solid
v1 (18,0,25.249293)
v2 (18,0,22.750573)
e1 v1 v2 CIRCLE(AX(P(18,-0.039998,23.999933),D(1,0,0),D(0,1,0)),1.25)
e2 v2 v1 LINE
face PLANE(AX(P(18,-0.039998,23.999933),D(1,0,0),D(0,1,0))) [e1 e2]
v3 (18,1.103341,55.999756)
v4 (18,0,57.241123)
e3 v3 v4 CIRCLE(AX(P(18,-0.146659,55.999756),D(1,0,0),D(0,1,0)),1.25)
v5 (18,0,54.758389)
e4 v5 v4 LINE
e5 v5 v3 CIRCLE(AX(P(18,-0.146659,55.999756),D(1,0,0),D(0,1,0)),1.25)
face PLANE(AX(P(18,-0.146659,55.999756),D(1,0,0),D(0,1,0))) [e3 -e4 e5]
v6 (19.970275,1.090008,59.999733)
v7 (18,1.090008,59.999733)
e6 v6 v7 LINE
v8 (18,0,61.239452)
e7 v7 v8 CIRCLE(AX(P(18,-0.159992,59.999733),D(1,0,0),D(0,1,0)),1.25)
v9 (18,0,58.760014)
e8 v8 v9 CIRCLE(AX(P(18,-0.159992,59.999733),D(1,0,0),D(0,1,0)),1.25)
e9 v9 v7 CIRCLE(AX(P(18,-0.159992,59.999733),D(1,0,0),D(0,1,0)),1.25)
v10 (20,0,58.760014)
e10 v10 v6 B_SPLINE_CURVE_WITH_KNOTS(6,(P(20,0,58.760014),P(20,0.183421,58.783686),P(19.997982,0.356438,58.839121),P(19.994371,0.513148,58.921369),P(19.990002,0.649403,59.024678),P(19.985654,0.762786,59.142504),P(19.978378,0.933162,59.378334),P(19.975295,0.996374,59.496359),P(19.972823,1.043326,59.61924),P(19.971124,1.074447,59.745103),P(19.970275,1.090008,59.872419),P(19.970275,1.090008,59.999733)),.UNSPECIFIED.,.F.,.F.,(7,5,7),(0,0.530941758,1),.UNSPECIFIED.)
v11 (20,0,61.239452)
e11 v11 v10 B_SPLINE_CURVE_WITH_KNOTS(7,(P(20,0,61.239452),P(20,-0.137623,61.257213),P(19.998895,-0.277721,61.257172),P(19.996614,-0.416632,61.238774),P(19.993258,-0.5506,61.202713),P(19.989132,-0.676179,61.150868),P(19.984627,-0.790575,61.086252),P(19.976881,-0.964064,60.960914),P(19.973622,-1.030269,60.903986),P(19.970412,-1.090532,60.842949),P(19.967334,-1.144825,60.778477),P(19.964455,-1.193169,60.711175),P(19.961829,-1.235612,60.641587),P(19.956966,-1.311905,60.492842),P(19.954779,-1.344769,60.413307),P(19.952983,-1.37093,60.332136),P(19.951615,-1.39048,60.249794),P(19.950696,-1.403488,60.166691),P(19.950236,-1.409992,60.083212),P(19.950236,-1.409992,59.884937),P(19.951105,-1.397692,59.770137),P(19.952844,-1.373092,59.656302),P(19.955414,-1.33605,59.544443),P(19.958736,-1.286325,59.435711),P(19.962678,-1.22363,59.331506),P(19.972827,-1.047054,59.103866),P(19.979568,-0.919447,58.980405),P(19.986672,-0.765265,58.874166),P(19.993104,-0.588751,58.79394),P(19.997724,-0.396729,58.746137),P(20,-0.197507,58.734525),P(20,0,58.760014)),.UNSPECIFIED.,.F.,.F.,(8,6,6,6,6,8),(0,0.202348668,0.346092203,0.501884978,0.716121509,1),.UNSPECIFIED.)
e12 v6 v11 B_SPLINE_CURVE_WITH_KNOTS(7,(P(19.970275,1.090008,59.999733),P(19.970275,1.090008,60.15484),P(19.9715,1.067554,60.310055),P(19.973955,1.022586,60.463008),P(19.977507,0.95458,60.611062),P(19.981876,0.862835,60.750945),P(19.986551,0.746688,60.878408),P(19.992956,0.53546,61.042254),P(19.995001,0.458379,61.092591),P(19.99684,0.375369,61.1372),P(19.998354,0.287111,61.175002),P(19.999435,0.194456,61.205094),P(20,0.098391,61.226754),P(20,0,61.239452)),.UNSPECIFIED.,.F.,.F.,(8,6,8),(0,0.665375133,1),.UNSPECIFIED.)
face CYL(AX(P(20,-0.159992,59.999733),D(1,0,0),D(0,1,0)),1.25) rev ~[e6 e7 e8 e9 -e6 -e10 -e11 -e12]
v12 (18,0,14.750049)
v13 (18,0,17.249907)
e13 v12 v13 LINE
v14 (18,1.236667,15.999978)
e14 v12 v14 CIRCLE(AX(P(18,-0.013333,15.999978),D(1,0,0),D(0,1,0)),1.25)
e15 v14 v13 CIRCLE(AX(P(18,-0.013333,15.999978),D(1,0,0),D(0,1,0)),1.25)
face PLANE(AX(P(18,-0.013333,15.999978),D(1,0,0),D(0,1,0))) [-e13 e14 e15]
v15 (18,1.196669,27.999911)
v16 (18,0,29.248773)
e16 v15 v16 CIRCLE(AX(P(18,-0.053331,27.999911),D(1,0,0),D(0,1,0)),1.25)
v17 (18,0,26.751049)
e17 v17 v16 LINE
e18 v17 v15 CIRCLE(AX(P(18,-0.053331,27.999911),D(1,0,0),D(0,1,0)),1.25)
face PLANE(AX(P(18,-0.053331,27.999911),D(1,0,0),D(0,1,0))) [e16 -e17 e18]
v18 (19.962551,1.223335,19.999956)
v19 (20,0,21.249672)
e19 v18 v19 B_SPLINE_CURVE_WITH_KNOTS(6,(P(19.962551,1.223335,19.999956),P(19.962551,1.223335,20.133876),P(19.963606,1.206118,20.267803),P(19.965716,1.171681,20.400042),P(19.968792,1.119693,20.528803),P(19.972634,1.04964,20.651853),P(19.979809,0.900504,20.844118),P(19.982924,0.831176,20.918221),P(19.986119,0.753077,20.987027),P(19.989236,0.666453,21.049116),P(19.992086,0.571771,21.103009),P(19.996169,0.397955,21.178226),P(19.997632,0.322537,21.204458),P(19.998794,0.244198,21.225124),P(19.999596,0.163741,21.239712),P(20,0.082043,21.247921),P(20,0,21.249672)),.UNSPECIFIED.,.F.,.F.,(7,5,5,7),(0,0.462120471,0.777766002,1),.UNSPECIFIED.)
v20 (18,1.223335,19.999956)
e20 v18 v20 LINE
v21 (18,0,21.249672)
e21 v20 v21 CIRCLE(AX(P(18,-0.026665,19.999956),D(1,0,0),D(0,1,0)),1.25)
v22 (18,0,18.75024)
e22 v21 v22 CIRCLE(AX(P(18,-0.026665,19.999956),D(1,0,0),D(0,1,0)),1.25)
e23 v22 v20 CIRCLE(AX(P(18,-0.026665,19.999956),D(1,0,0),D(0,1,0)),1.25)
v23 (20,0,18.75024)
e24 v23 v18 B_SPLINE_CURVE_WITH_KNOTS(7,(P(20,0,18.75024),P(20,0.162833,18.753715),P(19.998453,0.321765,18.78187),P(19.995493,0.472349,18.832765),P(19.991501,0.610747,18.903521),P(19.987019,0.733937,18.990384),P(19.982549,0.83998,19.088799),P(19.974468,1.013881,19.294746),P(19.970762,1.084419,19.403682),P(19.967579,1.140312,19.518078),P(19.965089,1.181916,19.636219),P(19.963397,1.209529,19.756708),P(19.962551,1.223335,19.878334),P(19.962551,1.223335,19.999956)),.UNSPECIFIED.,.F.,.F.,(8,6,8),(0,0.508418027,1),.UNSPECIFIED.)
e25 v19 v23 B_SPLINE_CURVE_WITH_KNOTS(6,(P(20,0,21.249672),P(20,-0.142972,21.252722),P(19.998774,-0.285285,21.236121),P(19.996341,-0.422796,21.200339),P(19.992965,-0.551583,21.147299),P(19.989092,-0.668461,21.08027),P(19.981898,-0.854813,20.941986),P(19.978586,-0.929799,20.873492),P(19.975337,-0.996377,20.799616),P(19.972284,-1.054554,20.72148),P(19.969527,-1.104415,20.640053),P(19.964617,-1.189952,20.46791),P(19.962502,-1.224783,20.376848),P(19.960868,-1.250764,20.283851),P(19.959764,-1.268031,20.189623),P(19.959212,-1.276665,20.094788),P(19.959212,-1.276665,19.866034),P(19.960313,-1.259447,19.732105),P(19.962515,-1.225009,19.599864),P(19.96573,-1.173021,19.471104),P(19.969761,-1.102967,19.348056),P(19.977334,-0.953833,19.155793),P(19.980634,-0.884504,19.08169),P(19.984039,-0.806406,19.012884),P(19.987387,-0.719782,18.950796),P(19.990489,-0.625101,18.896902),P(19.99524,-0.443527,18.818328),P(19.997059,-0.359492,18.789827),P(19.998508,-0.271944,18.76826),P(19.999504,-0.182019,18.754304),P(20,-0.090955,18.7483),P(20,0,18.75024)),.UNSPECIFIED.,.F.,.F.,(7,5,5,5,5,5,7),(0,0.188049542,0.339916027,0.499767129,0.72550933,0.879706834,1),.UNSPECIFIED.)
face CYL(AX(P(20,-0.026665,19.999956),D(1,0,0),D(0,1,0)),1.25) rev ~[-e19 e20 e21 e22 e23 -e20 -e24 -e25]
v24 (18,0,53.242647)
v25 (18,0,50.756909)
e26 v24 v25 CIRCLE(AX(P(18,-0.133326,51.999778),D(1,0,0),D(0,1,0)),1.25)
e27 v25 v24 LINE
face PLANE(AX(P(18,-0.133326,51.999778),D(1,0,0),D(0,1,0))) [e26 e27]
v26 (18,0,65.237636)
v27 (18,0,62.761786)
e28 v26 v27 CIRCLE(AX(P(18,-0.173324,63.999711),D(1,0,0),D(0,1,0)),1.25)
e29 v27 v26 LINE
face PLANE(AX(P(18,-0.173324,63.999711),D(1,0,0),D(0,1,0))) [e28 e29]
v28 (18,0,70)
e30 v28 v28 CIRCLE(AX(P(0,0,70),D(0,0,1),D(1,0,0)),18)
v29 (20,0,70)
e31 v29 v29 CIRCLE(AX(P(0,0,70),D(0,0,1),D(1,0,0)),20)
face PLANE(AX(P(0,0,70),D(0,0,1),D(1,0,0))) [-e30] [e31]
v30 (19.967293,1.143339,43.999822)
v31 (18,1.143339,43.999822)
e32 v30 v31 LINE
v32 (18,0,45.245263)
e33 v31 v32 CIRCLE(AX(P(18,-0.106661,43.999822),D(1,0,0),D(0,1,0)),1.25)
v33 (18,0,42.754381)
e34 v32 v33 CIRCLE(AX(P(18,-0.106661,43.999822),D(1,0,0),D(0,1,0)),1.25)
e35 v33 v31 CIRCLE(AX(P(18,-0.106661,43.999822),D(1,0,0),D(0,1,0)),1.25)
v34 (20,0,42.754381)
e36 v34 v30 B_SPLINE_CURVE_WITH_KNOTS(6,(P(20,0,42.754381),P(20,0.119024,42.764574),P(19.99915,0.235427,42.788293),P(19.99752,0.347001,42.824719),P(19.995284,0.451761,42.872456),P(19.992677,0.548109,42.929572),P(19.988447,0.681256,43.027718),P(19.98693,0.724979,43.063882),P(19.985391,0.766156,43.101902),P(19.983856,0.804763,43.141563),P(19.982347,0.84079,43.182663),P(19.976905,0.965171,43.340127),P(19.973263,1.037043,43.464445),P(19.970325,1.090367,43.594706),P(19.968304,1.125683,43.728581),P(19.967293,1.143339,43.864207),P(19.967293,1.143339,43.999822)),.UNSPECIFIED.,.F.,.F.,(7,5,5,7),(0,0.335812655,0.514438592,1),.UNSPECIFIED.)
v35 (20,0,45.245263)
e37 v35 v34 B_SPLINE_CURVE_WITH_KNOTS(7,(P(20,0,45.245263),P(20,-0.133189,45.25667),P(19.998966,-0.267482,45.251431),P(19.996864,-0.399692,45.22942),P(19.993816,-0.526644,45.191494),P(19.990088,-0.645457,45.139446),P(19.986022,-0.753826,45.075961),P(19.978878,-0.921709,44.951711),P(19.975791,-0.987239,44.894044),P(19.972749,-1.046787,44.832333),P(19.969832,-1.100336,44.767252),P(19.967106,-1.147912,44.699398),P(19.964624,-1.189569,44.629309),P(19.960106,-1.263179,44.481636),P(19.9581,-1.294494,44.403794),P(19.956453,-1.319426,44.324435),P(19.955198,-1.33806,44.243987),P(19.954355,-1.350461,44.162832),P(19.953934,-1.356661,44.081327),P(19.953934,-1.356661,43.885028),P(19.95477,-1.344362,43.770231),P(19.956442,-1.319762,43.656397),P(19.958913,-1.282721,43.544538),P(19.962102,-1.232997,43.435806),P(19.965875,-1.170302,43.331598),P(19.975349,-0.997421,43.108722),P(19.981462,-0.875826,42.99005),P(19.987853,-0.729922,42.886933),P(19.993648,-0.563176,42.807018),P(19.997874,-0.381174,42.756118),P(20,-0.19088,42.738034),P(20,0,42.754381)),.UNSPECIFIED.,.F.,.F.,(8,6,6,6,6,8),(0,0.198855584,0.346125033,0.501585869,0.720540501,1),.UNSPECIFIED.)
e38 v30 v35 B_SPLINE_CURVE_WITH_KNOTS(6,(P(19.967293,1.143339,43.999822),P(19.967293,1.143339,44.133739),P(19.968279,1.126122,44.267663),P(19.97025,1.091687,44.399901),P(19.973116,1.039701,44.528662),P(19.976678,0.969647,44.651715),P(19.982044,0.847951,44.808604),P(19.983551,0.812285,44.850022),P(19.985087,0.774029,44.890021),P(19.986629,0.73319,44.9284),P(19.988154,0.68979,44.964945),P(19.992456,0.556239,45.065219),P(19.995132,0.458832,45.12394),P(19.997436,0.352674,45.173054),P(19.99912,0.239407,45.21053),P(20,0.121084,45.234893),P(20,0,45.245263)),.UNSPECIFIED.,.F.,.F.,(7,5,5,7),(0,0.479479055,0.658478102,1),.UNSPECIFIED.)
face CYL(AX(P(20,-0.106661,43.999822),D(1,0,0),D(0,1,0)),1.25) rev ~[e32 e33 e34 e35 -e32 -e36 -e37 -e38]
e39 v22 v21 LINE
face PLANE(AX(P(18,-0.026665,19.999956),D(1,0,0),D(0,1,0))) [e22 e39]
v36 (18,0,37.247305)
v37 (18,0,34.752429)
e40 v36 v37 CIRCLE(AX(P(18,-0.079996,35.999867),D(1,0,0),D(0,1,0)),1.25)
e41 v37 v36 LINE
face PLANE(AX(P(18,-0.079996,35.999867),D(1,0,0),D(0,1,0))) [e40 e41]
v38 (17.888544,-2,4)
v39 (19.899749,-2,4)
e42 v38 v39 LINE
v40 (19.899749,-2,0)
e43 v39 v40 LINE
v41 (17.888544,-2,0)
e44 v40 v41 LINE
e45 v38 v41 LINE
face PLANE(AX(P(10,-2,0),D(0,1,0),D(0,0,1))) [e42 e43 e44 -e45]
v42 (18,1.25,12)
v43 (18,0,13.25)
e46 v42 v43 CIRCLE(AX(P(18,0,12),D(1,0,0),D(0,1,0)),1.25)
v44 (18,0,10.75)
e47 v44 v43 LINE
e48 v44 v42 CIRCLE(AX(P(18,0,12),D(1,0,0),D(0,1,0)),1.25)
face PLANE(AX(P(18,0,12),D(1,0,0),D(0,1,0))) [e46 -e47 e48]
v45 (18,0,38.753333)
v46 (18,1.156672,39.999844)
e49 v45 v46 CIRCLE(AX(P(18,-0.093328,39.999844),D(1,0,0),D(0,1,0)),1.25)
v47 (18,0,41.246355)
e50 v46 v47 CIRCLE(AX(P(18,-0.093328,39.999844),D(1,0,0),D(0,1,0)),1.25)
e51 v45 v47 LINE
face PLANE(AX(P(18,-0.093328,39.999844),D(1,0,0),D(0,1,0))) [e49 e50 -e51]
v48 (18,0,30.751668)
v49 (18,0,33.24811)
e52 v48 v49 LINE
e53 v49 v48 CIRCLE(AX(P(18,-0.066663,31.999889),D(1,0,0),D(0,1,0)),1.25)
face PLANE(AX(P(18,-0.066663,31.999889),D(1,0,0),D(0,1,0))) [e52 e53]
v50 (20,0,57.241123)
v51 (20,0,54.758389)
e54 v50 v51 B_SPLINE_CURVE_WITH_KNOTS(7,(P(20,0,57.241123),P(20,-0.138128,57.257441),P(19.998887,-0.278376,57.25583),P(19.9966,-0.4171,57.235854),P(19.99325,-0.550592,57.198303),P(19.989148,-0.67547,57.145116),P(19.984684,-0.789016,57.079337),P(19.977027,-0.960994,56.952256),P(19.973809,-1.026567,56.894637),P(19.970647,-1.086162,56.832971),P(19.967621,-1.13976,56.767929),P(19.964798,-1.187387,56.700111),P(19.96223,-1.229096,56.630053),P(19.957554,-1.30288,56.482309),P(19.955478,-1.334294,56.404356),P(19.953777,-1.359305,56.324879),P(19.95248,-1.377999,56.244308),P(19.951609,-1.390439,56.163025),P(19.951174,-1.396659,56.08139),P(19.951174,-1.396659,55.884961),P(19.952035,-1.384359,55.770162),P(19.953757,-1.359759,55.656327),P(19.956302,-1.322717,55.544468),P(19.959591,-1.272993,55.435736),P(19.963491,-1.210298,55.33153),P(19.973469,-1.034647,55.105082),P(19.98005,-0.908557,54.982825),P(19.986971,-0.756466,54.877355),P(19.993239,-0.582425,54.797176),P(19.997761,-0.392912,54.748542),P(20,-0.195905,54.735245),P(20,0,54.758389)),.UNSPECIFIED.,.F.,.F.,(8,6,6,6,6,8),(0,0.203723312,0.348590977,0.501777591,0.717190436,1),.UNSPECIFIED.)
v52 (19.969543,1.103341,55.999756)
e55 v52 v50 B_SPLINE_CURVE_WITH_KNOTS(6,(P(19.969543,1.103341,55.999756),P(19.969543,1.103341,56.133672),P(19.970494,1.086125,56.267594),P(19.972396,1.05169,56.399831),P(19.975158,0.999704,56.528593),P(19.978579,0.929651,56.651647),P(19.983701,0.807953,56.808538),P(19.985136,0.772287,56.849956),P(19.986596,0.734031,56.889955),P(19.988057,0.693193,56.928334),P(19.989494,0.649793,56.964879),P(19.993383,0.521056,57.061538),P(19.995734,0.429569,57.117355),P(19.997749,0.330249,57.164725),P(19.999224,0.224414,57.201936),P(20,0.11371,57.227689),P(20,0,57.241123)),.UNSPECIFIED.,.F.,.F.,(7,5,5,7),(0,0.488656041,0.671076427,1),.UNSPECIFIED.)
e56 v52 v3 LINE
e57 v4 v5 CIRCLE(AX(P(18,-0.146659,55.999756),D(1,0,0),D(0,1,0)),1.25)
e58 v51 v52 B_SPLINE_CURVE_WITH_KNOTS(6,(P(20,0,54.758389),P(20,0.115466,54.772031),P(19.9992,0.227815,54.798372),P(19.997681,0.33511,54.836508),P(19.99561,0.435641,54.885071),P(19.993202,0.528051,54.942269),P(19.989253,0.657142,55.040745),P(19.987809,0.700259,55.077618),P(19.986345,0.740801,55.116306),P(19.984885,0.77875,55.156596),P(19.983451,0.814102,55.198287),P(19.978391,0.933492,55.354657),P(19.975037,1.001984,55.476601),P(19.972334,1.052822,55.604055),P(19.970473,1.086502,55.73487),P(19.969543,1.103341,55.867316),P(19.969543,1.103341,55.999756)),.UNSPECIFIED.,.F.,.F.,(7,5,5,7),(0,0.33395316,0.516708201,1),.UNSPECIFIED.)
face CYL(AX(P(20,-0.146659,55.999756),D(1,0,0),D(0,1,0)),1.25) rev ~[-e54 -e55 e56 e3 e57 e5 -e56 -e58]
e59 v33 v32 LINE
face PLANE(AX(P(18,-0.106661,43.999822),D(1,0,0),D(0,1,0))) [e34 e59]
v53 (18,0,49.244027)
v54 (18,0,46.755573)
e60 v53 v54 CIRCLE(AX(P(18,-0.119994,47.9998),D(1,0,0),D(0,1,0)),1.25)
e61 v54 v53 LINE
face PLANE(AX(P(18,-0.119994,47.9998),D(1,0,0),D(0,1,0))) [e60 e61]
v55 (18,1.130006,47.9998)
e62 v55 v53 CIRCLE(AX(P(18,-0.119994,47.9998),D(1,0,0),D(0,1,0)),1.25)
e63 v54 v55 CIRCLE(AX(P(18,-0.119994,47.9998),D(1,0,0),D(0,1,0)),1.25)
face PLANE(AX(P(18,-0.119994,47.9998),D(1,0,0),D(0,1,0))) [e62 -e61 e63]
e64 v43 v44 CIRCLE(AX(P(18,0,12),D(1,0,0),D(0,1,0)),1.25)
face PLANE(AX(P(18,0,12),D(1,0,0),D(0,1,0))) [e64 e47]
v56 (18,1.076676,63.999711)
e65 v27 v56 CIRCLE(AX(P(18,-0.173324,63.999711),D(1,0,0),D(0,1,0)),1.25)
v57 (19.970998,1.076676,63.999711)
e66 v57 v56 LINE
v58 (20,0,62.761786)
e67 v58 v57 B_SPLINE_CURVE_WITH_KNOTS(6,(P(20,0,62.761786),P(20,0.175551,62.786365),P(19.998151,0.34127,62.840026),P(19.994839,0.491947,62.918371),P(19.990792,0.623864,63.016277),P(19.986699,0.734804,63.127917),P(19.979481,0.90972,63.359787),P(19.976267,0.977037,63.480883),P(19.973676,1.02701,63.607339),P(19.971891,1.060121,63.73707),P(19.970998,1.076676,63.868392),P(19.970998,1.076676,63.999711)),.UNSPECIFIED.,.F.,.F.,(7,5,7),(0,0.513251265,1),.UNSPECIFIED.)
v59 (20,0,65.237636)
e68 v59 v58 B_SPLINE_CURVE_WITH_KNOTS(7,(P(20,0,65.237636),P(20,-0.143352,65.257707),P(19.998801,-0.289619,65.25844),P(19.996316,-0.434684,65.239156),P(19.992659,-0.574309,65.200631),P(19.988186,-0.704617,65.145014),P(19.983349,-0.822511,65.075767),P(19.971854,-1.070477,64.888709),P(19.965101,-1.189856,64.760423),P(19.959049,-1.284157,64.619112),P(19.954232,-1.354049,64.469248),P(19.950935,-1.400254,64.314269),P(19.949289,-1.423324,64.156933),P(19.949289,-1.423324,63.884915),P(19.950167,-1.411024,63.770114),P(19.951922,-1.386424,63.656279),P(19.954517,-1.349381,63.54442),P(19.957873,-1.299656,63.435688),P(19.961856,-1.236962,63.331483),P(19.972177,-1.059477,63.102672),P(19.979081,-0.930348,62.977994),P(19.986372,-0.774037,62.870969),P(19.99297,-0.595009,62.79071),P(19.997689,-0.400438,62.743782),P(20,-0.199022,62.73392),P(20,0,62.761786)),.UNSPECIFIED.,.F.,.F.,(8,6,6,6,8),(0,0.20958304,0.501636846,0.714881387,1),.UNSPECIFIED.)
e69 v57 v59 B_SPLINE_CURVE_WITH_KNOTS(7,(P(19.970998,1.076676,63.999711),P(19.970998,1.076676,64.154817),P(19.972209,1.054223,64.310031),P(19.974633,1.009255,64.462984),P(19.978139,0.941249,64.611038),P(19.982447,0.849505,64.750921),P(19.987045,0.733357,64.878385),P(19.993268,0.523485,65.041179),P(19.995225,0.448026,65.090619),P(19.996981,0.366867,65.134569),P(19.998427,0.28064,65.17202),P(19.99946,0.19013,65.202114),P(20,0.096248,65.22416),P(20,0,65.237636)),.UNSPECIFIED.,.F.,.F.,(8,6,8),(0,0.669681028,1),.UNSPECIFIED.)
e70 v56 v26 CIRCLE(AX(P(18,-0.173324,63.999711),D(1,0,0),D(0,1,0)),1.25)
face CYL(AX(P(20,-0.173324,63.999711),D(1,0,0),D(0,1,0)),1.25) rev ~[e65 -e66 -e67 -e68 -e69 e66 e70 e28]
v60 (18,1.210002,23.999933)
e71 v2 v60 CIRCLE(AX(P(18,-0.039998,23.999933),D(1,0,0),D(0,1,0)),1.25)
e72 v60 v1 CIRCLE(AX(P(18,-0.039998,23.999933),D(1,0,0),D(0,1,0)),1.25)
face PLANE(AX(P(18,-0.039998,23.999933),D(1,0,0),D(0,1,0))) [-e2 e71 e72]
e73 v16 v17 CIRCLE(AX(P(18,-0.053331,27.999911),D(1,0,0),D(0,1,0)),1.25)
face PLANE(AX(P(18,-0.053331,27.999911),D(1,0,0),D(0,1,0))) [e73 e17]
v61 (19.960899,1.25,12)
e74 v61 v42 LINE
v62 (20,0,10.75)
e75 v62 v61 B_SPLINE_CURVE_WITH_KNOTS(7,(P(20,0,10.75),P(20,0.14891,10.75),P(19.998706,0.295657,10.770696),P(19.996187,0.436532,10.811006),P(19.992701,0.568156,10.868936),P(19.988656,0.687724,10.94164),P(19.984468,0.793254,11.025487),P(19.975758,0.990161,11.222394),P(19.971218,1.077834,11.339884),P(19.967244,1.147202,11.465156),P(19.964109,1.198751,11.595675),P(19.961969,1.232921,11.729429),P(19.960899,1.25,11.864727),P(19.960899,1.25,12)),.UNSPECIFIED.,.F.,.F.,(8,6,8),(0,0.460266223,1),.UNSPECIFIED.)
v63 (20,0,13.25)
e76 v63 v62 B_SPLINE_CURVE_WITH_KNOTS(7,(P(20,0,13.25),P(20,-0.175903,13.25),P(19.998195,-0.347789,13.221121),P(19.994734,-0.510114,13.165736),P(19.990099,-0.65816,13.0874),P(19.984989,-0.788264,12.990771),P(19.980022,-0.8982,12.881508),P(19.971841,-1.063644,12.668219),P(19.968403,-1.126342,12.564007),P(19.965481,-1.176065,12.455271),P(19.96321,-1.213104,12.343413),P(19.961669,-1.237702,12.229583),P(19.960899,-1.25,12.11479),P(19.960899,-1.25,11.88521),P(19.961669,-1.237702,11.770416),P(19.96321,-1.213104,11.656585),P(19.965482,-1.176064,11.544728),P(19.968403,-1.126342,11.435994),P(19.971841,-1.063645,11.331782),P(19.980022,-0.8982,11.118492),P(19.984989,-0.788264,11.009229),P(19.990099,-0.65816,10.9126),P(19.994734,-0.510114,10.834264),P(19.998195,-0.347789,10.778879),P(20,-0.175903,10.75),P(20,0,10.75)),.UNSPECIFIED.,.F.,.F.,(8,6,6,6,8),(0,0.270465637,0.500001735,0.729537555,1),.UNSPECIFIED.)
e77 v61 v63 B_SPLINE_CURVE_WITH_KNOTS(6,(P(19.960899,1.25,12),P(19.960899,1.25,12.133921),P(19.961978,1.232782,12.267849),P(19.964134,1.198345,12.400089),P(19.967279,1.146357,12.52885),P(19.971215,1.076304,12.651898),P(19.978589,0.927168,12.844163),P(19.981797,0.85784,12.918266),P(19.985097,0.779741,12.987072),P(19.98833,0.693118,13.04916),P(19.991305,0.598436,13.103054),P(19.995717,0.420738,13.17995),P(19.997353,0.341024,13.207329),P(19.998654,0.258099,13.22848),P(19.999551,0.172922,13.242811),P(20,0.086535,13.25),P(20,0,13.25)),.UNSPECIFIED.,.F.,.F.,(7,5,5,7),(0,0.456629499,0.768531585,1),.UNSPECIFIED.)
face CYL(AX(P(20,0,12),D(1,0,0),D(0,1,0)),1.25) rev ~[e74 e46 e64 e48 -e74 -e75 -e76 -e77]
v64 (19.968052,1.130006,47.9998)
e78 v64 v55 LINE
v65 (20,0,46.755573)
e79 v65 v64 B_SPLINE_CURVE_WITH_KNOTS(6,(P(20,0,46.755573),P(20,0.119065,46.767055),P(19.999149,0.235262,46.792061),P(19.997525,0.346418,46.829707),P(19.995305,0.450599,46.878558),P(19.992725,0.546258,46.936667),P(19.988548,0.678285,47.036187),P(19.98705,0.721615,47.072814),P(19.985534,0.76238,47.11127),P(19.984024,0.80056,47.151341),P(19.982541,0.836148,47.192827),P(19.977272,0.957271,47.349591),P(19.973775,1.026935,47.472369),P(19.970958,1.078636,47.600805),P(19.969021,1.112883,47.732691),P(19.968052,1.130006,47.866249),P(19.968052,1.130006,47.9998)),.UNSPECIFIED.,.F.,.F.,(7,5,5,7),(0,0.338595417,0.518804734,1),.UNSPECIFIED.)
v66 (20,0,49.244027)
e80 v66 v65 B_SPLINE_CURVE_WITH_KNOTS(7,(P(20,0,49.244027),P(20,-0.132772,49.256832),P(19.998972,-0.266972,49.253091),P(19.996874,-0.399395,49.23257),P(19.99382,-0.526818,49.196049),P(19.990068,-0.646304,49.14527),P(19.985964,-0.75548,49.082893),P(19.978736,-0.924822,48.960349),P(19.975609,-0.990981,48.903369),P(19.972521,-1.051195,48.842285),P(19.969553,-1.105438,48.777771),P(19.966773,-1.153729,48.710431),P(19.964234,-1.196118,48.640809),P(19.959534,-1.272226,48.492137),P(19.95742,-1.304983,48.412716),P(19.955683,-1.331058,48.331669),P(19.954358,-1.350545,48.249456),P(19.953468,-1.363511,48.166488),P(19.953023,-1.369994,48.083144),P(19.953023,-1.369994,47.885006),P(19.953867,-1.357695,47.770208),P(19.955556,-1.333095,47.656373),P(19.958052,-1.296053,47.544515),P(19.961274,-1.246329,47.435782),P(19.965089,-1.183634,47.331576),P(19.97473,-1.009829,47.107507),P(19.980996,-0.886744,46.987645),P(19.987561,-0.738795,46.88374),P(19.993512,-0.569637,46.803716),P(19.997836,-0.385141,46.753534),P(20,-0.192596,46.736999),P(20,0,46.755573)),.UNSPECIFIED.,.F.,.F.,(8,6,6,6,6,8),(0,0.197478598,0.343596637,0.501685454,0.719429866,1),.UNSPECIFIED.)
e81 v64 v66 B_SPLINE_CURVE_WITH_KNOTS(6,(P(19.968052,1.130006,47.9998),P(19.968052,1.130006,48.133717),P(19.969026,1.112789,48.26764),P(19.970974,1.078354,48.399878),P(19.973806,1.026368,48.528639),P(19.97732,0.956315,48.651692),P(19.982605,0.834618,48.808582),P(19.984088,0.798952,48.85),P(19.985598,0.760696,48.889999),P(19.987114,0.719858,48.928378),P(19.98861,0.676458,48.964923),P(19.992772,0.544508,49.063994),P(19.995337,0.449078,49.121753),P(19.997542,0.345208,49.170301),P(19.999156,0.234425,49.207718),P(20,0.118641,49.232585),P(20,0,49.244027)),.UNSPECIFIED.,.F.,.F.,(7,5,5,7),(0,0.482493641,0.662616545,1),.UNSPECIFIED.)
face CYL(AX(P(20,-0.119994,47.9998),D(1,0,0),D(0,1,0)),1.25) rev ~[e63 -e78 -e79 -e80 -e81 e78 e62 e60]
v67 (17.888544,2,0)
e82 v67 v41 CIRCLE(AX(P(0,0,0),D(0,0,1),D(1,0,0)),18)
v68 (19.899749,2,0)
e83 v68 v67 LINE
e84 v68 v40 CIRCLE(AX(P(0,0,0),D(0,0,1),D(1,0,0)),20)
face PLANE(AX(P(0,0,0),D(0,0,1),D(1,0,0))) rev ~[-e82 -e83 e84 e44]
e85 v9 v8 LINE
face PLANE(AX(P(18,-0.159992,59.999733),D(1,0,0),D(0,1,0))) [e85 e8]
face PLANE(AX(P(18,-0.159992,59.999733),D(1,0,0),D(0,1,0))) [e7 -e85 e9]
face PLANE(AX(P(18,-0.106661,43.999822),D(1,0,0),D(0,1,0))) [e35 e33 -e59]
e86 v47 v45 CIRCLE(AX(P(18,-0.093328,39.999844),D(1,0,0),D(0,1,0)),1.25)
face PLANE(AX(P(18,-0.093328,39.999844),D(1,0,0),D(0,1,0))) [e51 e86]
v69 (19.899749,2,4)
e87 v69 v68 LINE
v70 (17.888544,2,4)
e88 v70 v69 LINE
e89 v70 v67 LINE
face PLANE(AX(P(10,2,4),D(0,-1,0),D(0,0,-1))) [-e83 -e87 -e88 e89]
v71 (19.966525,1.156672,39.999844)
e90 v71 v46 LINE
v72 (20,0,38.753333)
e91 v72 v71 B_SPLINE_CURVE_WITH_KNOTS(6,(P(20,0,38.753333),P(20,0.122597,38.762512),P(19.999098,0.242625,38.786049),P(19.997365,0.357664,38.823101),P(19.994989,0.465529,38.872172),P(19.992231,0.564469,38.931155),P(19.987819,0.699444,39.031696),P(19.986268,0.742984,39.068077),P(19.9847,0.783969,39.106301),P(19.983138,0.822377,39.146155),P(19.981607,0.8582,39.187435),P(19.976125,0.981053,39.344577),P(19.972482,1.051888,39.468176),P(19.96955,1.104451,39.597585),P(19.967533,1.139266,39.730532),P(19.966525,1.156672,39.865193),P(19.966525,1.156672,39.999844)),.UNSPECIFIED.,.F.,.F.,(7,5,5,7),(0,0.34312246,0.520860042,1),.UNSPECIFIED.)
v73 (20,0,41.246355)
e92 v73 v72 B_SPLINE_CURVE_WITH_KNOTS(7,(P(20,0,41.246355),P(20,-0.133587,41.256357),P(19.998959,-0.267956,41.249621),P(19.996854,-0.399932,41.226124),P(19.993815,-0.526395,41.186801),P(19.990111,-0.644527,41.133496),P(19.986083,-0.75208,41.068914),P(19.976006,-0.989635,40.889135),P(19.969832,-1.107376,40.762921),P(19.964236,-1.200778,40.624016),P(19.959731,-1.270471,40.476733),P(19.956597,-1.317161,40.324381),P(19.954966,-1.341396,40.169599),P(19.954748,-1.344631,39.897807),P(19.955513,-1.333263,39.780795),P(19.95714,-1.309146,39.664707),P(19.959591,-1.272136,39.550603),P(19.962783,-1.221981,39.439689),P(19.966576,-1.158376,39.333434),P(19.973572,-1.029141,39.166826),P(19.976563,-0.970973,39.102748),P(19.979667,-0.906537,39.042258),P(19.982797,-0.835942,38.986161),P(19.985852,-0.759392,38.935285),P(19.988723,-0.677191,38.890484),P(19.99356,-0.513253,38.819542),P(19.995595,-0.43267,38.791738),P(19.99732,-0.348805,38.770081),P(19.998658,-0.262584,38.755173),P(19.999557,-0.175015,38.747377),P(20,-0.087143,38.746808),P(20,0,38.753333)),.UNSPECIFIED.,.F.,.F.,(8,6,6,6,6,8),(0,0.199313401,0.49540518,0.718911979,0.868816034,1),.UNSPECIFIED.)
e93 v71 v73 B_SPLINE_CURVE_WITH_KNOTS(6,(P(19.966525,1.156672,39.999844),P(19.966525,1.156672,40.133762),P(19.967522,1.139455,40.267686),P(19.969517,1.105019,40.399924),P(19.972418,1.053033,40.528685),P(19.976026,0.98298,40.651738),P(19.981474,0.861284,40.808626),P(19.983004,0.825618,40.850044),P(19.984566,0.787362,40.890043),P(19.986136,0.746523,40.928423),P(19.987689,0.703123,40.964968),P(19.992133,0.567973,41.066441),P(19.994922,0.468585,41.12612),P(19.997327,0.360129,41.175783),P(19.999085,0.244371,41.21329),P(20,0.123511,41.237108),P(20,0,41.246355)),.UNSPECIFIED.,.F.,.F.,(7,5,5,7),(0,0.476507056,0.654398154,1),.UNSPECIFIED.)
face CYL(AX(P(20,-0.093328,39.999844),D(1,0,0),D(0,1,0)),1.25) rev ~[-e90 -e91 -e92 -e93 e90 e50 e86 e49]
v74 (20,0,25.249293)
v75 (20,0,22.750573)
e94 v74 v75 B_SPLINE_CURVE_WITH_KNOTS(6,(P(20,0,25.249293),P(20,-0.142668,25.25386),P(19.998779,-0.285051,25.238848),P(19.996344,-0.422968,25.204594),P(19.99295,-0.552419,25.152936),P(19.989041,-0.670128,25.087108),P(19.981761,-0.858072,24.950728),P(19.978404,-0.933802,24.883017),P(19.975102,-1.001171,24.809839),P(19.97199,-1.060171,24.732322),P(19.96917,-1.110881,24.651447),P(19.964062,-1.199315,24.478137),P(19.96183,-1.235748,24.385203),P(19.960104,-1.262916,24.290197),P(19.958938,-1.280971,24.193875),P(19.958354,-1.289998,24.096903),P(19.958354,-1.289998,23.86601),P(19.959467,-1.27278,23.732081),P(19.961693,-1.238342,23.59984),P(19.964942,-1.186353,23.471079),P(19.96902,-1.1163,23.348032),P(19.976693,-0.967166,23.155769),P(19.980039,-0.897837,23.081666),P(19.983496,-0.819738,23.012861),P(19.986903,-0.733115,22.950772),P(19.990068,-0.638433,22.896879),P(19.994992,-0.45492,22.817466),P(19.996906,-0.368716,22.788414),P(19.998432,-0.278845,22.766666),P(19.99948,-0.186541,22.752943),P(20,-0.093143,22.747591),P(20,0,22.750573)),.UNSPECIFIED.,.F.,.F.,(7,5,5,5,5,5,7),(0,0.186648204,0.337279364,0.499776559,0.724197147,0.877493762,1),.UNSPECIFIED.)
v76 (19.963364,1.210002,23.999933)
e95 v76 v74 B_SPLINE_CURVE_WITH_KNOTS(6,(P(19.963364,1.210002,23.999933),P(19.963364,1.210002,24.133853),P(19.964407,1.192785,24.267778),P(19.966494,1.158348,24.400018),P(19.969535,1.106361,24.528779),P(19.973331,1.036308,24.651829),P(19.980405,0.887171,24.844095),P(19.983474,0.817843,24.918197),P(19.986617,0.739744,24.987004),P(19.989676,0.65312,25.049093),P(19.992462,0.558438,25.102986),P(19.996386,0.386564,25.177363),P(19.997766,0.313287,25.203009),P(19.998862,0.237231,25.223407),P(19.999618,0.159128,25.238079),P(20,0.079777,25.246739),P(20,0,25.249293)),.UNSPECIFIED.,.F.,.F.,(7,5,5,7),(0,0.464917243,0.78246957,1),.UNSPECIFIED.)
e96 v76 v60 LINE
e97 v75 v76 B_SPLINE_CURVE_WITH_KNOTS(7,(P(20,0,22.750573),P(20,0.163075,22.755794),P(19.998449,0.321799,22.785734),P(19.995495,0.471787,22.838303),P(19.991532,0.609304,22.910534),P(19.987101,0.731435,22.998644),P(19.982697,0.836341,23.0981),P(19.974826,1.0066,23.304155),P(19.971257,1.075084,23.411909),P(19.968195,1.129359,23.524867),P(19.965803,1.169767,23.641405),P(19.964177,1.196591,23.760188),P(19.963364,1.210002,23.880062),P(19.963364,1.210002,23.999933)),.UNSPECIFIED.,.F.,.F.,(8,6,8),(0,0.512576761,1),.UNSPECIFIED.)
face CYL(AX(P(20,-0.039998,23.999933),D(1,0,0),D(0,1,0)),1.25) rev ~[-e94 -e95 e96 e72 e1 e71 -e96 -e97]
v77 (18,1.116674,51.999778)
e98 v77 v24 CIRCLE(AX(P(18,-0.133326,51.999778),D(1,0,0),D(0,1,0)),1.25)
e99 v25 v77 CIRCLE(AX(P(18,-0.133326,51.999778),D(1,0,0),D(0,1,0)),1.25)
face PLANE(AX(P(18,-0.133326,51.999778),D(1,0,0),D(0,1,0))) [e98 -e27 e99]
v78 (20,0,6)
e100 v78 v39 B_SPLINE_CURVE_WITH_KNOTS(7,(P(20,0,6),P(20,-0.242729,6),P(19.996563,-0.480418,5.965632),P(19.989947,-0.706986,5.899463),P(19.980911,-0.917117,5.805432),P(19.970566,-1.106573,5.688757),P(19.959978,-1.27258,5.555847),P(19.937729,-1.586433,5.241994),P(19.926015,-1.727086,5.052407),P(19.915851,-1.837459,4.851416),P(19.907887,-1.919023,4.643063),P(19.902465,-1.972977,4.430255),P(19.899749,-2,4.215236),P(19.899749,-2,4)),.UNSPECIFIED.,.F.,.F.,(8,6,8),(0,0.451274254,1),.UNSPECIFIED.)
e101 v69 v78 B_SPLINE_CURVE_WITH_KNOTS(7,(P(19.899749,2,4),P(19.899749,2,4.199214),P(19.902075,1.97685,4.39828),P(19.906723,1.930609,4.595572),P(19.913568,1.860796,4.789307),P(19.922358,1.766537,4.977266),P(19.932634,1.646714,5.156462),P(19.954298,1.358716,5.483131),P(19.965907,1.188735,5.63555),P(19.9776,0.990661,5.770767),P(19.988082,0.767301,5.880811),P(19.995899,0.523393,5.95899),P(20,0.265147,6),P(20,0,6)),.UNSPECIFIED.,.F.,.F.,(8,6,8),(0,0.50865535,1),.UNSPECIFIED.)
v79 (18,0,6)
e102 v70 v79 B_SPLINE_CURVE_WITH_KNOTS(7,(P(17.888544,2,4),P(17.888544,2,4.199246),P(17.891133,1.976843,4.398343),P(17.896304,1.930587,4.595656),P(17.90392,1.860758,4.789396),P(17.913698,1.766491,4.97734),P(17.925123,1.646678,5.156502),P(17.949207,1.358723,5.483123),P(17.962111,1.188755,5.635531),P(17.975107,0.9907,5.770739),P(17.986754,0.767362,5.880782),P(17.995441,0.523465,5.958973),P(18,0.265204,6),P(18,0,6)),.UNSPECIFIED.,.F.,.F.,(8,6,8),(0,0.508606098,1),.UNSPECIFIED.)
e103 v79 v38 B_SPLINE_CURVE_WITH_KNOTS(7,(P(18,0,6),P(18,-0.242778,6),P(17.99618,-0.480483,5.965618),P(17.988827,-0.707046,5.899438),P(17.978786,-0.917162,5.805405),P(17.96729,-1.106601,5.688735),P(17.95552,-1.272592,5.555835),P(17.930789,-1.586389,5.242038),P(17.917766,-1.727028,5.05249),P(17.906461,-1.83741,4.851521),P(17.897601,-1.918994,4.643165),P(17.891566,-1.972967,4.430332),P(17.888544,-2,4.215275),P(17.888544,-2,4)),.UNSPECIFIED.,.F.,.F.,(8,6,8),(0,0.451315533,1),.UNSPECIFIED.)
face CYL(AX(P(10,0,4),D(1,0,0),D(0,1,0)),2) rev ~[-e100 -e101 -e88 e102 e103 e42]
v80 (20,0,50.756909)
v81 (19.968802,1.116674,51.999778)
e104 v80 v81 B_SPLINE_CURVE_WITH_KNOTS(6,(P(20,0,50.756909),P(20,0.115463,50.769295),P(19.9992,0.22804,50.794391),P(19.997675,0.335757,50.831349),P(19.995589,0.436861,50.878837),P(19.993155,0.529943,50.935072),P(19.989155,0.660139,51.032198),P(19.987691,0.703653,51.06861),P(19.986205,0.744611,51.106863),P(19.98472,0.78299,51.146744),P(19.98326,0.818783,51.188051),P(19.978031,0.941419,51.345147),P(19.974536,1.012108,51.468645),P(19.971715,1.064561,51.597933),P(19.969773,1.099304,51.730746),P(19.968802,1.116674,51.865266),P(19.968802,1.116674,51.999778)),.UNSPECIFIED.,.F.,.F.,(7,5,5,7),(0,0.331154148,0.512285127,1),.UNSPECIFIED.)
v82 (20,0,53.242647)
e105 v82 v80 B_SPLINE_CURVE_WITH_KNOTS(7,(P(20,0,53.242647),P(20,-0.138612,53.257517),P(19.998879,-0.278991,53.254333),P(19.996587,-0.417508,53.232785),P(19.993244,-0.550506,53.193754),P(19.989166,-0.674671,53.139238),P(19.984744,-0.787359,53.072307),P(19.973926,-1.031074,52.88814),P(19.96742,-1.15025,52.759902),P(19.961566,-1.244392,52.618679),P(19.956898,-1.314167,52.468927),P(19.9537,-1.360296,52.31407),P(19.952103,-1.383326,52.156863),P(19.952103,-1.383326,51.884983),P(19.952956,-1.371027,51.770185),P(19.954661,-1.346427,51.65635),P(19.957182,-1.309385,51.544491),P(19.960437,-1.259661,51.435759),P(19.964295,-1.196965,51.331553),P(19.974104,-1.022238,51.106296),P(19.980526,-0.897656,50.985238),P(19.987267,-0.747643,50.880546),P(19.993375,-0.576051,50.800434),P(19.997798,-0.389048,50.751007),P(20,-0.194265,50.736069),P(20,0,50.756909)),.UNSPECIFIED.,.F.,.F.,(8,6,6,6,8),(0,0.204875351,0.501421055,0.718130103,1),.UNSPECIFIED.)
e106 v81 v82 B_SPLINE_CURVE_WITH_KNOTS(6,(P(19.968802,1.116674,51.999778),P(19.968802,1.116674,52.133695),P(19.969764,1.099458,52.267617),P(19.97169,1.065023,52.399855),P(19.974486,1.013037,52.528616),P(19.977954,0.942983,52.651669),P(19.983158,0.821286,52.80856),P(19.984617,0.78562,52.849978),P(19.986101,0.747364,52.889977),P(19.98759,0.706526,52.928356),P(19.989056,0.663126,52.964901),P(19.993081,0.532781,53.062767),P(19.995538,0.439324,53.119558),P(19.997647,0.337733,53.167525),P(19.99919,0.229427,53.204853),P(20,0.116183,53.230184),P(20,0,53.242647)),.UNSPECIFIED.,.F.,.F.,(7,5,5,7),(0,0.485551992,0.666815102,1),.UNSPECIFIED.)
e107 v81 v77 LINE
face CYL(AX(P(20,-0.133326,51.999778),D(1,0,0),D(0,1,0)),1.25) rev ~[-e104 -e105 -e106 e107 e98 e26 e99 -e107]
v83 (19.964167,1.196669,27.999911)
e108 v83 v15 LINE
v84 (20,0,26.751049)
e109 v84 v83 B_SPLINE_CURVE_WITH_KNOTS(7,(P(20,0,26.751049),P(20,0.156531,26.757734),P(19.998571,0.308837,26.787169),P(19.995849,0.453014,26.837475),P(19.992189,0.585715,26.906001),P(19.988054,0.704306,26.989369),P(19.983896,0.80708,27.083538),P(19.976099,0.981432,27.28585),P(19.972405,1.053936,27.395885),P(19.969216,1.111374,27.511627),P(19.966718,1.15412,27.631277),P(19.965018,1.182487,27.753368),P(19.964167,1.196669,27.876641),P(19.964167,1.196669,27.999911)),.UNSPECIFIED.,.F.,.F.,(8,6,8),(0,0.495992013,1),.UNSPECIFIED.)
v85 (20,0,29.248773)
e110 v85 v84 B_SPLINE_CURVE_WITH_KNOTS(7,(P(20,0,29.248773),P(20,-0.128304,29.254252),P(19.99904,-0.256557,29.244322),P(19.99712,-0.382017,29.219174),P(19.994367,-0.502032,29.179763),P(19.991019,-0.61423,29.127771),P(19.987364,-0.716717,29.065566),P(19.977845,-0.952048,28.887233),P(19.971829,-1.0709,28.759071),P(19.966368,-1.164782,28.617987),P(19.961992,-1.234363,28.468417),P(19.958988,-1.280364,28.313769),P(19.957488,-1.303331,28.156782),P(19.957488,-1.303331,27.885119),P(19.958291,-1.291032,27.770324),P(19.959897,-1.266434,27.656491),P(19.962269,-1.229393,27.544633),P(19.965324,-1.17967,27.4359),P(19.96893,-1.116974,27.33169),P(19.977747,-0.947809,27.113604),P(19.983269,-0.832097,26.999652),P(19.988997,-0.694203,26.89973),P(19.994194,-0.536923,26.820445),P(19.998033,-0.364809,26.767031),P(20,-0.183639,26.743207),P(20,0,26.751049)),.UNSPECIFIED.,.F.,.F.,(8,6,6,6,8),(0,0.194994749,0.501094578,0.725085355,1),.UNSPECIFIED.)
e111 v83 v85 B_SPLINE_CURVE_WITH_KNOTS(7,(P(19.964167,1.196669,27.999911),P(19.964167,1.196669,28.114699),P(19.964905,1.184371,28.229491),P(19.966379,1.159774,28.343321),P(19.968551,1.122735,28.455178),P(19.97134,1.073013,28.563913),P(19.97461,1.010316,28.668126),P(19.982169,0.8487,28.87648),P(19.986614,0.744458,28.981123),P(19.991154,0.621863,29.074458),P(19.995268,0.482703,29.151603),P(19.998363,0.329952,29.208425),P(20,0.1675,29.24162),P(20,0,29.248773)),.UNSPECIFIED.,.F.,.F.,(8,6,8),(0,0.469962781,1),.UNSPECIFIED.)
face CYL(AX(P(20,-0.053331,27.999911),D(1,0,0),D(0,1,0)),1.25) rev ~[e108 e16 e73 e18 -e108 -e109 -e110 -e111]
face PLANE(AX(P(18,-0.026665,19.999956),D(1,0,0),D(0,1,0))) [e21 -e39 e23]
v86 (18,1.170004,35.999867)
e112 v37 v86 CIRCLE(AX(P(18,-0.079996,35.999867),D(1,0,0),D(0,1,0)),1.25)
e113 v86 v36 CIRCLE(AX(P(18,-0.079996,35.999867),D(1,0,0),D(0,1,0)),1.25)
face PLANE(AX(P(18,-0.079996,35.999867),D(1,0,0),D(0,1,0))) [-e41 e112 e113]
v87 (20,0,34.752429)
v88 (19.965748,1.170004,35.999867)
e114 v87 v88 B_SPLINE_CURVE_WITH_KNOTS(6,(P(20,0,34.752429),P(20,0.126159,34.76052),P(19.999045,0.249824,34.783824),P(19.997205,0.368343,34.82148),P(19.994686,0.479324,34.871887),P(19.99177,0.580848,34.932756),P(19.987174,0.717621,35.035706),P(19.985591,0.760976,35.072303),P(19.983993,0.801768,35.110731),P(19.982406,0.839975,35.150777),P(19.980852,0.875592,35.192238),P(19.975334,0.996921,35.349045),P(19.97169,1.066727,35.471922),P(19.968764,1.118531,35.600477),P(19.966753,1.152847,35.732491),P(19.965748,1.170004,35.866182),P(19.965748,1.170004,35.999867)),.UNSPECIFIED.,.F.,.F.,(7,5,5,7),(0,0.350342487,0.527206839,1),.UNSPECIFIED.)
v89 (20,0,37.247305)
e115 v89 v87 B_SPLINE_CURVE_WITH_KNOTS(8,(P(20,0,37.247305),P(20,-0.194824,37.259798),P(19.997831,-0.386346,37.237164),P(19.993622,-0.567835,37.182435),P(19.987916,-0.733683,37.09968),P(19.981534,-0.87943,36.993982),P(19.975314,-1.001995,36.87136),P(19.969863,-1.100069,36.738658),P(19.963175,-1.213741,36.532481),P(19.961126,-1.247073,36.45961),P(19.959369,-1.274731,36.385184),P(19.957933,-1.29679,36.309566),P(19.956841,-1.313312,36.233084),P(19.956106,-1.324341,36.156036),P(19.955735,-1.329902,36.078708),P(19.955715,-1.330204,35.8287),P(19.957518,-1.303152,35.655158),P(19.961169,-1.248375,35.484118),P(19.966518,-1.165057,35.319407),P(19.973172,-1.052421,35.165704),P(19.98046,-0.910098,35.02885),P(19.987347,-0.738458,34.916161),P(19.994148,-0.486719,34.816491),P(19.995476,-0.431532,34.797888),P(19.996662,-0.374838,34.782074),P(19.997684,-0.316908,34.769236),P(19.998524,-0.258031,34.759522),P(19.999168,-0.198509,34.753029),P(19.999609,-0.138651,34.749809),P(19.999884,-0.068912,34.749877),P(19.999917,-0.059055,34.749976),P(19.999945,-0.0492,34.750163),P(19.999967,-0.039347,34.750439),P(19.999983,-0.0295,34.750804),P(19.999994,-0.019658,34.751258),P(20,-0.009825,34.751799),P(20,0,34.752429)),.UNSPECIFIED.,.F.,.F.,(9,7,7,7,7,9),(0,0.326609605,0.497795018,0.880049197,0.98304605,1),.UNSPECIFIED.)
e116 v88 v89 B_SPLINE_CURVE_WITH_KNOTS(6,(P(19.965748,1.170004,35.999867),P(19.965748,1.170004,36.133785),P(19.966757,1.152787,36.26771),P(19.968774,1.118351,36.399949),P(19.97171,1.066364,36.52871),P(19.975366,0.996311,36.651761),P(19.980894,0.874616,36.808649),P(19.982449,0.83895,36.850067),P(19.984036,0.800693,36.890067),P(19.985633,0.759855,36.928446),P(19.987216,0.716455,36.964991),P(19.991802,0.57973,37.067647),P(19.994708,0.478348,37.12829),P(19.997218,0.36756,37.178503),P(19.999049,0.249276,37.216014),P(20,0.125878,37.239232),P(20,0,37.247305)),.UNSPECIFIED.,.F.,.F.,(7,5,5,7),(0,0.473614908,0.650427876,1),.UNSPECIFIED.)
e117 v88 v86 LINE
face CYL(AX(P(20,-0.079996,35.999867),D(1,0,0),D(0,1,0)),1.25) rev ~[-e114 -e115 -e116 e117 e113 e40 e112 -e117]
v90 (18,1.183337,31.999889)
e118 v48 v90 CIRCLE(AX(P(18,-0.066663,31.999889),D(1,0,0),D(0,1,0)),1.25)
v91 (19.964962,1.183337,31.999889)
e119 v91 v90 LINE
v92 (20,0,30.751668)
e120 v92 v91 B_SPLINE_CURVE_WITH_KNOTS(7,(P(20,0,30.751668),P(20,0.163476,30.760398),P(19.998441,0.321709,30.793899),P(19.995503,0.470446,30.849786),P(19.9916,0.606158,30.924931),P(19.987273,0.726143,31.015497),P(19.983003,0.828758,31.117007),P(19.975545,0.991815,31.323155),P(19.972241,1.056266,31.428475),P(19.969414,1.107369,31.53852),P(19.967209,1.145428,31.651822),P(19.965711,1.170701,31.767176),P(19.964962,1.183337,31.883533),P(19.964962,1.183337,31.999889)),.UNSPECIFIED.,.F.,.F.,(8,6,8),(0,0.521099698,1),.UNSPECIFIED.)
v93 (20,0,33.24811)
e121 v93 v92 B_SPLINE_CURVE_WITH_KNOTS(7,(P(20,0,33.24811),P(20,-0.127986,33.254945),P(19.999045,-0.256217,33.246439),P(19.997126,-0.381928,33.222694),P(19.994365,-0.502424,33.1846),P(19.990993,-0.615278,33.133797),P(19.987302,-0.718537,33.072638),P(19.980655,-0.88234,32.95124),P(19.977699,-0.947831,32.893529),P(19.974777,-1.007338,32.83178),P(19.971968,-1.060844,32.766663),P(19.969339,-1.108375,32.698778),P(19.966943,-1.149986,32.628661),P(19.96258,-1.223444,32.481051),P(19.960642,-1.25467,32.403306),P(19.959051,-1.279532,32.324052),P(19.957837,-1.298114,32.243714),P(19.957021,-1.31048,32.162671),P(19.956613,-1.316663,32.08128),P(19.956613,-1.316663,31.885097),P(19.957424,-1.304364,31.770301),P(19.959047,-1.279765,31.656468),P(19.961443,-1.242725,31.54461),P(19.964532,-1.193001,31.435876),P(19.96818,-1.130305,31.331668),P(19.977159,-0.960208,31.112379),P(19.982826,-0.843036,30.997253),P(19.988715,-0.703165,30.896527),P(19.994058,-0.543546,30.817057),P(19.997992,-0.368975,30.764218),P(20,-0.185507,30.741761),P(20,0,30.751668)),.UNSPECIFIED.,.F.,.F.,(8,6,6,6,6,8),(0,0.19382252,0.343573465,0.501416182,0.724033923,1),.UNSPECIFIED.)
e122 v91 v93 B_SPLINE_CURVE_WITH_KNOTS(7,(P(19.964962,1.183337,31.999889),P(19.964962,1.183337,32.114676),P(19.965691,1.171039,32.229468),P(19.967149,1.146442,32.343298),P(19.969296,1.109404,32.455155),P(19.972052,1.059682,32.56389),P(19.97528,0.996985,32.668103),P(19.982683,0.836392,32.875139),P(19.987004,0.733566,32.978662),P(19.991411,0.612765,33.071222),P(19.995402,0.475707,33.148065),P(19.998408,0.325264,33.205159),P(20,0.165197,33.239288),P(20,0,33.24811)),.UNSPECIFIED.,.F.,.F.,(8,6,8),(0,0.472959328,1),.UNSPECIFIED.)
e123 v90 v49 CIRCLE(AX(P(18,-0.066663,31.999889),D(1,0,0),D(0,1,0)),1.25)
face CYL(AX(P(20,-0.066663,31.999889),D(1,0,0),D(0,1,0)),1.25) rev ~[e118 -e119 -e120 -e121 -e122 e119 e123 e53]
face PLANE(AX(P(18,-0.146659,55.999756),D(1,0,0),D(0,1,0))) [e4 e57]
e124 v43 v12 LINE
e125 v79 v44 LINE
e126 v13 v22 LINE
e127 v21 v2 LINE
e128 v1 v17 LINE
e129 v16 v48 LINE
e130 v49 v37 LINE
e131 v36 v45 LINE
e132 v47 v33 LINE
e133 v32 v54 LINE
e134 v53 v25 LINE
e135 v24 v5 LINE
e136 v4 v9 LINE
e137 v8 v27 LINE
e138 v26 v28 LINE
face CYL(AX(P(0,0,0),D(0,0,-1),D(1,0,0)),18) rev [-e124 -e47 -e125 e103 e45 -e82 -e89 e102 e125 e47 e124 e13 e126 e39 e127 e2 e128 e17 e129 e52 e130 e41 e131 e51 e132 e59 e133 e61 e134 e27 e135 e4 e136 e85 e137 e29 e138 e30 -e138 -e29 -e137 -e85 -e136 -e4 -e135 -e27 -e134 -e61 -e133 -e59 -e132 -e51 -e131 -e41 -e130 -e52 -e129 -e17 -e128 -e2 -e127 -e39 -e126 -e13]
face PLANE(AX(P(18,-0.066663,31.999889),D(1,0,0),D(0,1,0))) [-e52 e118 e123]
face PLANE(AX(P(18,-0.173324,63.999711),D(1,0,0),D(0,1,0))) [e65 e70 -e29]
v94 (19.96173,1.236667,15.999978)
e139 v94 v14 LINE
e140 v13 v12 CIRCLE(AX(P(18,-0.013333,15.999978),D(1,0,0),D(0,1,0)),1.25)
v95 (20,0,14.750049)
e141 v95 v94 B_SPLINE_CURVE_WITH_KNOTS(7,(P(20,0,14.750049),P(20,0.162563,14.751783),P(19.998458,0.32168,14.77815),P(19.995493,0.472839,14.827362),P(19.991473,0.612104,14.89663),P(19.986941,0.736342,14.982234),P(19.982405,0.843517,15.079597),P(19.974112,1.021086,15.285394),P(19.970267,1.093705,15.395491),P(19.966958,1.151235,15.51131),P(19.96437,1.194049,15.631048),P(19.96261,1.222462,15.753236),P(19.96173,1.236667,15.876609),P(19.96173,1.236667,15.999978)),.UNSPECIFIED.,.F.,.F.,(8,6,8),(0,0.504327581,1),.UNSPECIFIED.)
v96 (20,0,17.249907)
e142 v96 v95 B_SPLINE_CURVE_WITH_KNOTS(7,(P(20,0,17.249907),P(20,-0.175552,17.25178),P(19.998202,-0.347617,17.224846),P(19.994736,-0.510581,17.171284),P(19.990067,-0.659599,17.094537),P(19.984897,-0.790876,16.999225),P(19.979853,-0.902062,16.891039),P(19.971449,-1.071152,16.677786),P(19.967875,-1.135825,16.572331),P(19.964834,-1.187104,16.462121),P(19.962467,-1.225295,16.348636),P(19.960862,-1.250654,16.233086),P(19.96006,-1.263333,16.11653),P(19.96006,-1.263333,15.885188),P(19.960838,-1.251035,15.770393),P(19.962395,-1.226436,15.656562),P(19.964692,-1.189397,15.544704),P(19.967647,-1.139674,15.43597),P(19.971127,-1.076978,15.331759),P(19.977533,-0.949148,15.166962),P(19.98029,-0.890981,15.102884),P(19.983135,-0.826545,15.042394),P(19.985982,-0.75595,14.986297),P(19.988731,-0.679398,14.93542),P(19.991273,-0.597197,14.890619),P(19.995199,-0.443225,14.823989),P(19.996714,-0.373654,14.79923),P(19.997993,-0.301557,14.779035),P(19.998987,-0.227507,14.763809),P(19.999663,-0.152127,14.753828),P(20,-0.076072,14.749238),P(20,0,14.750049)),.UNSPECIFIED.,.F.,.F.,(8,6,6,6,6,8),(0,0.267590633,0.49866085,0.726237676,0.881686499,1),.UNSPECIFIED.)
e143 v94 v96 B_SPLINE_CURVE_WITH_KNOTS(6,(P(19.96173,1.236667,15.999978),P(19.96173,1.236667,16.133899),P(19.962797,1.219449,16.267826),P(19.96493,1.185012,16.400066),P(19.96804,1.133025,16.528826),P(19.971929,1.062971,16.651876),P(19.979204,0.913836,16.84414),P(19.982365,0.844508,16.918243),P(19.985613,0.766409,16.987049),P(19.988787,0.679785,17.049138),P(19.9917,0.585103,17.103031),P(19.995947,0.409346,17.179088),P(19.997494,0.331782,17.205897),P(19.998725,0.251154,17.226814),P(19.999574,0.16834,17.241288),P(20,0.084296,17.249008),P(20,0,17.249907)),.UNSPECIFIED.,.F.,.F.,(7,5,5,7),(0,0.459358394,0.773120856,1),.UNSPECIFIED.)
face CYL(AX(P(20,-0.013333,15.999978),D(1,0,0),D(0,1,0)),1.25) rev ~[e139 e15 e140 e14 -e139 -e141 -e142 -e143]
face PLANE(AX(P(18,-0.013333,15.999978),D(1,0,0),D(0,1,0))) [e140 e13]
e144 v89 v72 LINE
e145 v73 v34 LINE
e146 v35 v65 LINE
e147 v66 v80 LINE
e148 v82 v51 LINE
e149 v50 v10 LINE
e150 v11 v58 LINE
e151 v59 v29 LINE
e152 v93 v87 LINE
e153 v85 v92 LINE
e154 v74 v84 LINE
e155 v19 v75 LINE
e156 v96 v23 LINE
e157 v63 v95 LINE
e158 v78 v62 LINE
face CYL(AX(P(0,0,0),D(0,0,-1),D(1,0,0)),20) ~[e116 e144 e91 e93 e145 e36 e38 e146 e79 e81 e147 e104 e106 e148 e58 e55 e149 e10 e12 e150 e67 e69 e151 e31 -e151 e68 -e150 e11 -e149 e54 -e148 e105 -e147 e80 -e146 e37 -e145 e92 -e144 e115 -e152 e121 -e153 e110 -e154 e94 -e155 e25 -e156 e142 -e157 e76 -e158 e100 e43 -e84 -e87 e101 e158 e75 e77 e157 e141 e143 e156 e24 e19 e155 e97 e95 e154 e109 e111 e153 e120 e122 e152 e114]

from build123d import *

# Parameters (mm, degrees)
SKETCH006_R      = 1.25
EXTRUDE008_DEPTH = 2
EXTRUDE005_DEPTH = 20
SKETCH_R         = 20
SKETCH_R_2       = 18
EXTRUDE_DEPTH    = 70


with BuildPart() as extrude008:
    # Sketch006 → Extrude008 (new body)
    with BuildSketch(Plane(origin=(20, 0, 12), x_dir=(0, 1, 0), z_dir=(1, 0, 0))):
        Circle(SKETCH006_R)
        with Locations((-0.013333, 3.999978)):
            Circle(SKETCH006_R)
        with Locations((-0.026665, 7.999956)):
            Circle(SKETCH006_R)
        with Locations((-0.039998, 11.999933)):
            Circle(SKETCH006_R)
        with Locations((-0.053331, 15.999911)):
            Circle(SKETCH006_R)
        with Locations((-0.066663, 19.999889)):
            Circle(SKETCH006_R)
        with Locations((-0.079996, 23.999867)):
            Circle(SKETCH006_R)
        with Locations((-0.093328, 27.999844)):
            Circle(SKETCH006_R)
        with Locations((-0.106661, 31.999822)):
            Circle(SKETCH006_R)
        with Locations((-0.119994, 35.9998)):
            Circle(SKETCH006_R)
        with Locations((-0.133326, 39.999778)):
            Circle(SKETCH006_R)
        with Locations((-0.146659, 43.999756)):
            Circle(SKETCH006_R)
        with Locations((-0.159992, 47.999733)):
            Circle(SKETCH006_R)
        with Locations((-0.173324, 51.999711)):
            Circle(SKETCH006_R)
    extrude(amount=-EXTRUDE008_DEPTH)


with BuildPart() as extrude005:
    # Sketch004 → Extrude005 (new body, symmetric)
    with BuildSketch(Plane.YZ):
        with BuildLine():
            Line((2, 4), (2, 0))
            Line((2, 0), (-2, 0))
            Line((-2, 0), (-2, 4))
            ThreePointArc((2, 4), (0, 6), (-2, 4))
        make_face()
    extrude(amount=EXTRUDE005_DEPTH, both=True)


with BuildPart() as extrude005_1:
    # Extrude005 placement: moved
    add(extrude005.part.moved(Location((10, 0, 0))))


with BuildPart() as cut001:
    # Sketch → Extrude (new body)
    with BuildSketch(Plane.XY):
        Circle(SKETCH_R)
        Circle(SKETCH_R_2, mode=Mode.SUBTRACT)
    extrude(amount=EXTRUDE_DEPTH)

    # Cut: cut Extrude005
    add(extrude005_1.part, mode=Mode.SUBTRACT)

    # Cut001: cut Extrude008
    add(extrude008.part, mode=Mode.SUBTRACT)


solid = cut001.part
